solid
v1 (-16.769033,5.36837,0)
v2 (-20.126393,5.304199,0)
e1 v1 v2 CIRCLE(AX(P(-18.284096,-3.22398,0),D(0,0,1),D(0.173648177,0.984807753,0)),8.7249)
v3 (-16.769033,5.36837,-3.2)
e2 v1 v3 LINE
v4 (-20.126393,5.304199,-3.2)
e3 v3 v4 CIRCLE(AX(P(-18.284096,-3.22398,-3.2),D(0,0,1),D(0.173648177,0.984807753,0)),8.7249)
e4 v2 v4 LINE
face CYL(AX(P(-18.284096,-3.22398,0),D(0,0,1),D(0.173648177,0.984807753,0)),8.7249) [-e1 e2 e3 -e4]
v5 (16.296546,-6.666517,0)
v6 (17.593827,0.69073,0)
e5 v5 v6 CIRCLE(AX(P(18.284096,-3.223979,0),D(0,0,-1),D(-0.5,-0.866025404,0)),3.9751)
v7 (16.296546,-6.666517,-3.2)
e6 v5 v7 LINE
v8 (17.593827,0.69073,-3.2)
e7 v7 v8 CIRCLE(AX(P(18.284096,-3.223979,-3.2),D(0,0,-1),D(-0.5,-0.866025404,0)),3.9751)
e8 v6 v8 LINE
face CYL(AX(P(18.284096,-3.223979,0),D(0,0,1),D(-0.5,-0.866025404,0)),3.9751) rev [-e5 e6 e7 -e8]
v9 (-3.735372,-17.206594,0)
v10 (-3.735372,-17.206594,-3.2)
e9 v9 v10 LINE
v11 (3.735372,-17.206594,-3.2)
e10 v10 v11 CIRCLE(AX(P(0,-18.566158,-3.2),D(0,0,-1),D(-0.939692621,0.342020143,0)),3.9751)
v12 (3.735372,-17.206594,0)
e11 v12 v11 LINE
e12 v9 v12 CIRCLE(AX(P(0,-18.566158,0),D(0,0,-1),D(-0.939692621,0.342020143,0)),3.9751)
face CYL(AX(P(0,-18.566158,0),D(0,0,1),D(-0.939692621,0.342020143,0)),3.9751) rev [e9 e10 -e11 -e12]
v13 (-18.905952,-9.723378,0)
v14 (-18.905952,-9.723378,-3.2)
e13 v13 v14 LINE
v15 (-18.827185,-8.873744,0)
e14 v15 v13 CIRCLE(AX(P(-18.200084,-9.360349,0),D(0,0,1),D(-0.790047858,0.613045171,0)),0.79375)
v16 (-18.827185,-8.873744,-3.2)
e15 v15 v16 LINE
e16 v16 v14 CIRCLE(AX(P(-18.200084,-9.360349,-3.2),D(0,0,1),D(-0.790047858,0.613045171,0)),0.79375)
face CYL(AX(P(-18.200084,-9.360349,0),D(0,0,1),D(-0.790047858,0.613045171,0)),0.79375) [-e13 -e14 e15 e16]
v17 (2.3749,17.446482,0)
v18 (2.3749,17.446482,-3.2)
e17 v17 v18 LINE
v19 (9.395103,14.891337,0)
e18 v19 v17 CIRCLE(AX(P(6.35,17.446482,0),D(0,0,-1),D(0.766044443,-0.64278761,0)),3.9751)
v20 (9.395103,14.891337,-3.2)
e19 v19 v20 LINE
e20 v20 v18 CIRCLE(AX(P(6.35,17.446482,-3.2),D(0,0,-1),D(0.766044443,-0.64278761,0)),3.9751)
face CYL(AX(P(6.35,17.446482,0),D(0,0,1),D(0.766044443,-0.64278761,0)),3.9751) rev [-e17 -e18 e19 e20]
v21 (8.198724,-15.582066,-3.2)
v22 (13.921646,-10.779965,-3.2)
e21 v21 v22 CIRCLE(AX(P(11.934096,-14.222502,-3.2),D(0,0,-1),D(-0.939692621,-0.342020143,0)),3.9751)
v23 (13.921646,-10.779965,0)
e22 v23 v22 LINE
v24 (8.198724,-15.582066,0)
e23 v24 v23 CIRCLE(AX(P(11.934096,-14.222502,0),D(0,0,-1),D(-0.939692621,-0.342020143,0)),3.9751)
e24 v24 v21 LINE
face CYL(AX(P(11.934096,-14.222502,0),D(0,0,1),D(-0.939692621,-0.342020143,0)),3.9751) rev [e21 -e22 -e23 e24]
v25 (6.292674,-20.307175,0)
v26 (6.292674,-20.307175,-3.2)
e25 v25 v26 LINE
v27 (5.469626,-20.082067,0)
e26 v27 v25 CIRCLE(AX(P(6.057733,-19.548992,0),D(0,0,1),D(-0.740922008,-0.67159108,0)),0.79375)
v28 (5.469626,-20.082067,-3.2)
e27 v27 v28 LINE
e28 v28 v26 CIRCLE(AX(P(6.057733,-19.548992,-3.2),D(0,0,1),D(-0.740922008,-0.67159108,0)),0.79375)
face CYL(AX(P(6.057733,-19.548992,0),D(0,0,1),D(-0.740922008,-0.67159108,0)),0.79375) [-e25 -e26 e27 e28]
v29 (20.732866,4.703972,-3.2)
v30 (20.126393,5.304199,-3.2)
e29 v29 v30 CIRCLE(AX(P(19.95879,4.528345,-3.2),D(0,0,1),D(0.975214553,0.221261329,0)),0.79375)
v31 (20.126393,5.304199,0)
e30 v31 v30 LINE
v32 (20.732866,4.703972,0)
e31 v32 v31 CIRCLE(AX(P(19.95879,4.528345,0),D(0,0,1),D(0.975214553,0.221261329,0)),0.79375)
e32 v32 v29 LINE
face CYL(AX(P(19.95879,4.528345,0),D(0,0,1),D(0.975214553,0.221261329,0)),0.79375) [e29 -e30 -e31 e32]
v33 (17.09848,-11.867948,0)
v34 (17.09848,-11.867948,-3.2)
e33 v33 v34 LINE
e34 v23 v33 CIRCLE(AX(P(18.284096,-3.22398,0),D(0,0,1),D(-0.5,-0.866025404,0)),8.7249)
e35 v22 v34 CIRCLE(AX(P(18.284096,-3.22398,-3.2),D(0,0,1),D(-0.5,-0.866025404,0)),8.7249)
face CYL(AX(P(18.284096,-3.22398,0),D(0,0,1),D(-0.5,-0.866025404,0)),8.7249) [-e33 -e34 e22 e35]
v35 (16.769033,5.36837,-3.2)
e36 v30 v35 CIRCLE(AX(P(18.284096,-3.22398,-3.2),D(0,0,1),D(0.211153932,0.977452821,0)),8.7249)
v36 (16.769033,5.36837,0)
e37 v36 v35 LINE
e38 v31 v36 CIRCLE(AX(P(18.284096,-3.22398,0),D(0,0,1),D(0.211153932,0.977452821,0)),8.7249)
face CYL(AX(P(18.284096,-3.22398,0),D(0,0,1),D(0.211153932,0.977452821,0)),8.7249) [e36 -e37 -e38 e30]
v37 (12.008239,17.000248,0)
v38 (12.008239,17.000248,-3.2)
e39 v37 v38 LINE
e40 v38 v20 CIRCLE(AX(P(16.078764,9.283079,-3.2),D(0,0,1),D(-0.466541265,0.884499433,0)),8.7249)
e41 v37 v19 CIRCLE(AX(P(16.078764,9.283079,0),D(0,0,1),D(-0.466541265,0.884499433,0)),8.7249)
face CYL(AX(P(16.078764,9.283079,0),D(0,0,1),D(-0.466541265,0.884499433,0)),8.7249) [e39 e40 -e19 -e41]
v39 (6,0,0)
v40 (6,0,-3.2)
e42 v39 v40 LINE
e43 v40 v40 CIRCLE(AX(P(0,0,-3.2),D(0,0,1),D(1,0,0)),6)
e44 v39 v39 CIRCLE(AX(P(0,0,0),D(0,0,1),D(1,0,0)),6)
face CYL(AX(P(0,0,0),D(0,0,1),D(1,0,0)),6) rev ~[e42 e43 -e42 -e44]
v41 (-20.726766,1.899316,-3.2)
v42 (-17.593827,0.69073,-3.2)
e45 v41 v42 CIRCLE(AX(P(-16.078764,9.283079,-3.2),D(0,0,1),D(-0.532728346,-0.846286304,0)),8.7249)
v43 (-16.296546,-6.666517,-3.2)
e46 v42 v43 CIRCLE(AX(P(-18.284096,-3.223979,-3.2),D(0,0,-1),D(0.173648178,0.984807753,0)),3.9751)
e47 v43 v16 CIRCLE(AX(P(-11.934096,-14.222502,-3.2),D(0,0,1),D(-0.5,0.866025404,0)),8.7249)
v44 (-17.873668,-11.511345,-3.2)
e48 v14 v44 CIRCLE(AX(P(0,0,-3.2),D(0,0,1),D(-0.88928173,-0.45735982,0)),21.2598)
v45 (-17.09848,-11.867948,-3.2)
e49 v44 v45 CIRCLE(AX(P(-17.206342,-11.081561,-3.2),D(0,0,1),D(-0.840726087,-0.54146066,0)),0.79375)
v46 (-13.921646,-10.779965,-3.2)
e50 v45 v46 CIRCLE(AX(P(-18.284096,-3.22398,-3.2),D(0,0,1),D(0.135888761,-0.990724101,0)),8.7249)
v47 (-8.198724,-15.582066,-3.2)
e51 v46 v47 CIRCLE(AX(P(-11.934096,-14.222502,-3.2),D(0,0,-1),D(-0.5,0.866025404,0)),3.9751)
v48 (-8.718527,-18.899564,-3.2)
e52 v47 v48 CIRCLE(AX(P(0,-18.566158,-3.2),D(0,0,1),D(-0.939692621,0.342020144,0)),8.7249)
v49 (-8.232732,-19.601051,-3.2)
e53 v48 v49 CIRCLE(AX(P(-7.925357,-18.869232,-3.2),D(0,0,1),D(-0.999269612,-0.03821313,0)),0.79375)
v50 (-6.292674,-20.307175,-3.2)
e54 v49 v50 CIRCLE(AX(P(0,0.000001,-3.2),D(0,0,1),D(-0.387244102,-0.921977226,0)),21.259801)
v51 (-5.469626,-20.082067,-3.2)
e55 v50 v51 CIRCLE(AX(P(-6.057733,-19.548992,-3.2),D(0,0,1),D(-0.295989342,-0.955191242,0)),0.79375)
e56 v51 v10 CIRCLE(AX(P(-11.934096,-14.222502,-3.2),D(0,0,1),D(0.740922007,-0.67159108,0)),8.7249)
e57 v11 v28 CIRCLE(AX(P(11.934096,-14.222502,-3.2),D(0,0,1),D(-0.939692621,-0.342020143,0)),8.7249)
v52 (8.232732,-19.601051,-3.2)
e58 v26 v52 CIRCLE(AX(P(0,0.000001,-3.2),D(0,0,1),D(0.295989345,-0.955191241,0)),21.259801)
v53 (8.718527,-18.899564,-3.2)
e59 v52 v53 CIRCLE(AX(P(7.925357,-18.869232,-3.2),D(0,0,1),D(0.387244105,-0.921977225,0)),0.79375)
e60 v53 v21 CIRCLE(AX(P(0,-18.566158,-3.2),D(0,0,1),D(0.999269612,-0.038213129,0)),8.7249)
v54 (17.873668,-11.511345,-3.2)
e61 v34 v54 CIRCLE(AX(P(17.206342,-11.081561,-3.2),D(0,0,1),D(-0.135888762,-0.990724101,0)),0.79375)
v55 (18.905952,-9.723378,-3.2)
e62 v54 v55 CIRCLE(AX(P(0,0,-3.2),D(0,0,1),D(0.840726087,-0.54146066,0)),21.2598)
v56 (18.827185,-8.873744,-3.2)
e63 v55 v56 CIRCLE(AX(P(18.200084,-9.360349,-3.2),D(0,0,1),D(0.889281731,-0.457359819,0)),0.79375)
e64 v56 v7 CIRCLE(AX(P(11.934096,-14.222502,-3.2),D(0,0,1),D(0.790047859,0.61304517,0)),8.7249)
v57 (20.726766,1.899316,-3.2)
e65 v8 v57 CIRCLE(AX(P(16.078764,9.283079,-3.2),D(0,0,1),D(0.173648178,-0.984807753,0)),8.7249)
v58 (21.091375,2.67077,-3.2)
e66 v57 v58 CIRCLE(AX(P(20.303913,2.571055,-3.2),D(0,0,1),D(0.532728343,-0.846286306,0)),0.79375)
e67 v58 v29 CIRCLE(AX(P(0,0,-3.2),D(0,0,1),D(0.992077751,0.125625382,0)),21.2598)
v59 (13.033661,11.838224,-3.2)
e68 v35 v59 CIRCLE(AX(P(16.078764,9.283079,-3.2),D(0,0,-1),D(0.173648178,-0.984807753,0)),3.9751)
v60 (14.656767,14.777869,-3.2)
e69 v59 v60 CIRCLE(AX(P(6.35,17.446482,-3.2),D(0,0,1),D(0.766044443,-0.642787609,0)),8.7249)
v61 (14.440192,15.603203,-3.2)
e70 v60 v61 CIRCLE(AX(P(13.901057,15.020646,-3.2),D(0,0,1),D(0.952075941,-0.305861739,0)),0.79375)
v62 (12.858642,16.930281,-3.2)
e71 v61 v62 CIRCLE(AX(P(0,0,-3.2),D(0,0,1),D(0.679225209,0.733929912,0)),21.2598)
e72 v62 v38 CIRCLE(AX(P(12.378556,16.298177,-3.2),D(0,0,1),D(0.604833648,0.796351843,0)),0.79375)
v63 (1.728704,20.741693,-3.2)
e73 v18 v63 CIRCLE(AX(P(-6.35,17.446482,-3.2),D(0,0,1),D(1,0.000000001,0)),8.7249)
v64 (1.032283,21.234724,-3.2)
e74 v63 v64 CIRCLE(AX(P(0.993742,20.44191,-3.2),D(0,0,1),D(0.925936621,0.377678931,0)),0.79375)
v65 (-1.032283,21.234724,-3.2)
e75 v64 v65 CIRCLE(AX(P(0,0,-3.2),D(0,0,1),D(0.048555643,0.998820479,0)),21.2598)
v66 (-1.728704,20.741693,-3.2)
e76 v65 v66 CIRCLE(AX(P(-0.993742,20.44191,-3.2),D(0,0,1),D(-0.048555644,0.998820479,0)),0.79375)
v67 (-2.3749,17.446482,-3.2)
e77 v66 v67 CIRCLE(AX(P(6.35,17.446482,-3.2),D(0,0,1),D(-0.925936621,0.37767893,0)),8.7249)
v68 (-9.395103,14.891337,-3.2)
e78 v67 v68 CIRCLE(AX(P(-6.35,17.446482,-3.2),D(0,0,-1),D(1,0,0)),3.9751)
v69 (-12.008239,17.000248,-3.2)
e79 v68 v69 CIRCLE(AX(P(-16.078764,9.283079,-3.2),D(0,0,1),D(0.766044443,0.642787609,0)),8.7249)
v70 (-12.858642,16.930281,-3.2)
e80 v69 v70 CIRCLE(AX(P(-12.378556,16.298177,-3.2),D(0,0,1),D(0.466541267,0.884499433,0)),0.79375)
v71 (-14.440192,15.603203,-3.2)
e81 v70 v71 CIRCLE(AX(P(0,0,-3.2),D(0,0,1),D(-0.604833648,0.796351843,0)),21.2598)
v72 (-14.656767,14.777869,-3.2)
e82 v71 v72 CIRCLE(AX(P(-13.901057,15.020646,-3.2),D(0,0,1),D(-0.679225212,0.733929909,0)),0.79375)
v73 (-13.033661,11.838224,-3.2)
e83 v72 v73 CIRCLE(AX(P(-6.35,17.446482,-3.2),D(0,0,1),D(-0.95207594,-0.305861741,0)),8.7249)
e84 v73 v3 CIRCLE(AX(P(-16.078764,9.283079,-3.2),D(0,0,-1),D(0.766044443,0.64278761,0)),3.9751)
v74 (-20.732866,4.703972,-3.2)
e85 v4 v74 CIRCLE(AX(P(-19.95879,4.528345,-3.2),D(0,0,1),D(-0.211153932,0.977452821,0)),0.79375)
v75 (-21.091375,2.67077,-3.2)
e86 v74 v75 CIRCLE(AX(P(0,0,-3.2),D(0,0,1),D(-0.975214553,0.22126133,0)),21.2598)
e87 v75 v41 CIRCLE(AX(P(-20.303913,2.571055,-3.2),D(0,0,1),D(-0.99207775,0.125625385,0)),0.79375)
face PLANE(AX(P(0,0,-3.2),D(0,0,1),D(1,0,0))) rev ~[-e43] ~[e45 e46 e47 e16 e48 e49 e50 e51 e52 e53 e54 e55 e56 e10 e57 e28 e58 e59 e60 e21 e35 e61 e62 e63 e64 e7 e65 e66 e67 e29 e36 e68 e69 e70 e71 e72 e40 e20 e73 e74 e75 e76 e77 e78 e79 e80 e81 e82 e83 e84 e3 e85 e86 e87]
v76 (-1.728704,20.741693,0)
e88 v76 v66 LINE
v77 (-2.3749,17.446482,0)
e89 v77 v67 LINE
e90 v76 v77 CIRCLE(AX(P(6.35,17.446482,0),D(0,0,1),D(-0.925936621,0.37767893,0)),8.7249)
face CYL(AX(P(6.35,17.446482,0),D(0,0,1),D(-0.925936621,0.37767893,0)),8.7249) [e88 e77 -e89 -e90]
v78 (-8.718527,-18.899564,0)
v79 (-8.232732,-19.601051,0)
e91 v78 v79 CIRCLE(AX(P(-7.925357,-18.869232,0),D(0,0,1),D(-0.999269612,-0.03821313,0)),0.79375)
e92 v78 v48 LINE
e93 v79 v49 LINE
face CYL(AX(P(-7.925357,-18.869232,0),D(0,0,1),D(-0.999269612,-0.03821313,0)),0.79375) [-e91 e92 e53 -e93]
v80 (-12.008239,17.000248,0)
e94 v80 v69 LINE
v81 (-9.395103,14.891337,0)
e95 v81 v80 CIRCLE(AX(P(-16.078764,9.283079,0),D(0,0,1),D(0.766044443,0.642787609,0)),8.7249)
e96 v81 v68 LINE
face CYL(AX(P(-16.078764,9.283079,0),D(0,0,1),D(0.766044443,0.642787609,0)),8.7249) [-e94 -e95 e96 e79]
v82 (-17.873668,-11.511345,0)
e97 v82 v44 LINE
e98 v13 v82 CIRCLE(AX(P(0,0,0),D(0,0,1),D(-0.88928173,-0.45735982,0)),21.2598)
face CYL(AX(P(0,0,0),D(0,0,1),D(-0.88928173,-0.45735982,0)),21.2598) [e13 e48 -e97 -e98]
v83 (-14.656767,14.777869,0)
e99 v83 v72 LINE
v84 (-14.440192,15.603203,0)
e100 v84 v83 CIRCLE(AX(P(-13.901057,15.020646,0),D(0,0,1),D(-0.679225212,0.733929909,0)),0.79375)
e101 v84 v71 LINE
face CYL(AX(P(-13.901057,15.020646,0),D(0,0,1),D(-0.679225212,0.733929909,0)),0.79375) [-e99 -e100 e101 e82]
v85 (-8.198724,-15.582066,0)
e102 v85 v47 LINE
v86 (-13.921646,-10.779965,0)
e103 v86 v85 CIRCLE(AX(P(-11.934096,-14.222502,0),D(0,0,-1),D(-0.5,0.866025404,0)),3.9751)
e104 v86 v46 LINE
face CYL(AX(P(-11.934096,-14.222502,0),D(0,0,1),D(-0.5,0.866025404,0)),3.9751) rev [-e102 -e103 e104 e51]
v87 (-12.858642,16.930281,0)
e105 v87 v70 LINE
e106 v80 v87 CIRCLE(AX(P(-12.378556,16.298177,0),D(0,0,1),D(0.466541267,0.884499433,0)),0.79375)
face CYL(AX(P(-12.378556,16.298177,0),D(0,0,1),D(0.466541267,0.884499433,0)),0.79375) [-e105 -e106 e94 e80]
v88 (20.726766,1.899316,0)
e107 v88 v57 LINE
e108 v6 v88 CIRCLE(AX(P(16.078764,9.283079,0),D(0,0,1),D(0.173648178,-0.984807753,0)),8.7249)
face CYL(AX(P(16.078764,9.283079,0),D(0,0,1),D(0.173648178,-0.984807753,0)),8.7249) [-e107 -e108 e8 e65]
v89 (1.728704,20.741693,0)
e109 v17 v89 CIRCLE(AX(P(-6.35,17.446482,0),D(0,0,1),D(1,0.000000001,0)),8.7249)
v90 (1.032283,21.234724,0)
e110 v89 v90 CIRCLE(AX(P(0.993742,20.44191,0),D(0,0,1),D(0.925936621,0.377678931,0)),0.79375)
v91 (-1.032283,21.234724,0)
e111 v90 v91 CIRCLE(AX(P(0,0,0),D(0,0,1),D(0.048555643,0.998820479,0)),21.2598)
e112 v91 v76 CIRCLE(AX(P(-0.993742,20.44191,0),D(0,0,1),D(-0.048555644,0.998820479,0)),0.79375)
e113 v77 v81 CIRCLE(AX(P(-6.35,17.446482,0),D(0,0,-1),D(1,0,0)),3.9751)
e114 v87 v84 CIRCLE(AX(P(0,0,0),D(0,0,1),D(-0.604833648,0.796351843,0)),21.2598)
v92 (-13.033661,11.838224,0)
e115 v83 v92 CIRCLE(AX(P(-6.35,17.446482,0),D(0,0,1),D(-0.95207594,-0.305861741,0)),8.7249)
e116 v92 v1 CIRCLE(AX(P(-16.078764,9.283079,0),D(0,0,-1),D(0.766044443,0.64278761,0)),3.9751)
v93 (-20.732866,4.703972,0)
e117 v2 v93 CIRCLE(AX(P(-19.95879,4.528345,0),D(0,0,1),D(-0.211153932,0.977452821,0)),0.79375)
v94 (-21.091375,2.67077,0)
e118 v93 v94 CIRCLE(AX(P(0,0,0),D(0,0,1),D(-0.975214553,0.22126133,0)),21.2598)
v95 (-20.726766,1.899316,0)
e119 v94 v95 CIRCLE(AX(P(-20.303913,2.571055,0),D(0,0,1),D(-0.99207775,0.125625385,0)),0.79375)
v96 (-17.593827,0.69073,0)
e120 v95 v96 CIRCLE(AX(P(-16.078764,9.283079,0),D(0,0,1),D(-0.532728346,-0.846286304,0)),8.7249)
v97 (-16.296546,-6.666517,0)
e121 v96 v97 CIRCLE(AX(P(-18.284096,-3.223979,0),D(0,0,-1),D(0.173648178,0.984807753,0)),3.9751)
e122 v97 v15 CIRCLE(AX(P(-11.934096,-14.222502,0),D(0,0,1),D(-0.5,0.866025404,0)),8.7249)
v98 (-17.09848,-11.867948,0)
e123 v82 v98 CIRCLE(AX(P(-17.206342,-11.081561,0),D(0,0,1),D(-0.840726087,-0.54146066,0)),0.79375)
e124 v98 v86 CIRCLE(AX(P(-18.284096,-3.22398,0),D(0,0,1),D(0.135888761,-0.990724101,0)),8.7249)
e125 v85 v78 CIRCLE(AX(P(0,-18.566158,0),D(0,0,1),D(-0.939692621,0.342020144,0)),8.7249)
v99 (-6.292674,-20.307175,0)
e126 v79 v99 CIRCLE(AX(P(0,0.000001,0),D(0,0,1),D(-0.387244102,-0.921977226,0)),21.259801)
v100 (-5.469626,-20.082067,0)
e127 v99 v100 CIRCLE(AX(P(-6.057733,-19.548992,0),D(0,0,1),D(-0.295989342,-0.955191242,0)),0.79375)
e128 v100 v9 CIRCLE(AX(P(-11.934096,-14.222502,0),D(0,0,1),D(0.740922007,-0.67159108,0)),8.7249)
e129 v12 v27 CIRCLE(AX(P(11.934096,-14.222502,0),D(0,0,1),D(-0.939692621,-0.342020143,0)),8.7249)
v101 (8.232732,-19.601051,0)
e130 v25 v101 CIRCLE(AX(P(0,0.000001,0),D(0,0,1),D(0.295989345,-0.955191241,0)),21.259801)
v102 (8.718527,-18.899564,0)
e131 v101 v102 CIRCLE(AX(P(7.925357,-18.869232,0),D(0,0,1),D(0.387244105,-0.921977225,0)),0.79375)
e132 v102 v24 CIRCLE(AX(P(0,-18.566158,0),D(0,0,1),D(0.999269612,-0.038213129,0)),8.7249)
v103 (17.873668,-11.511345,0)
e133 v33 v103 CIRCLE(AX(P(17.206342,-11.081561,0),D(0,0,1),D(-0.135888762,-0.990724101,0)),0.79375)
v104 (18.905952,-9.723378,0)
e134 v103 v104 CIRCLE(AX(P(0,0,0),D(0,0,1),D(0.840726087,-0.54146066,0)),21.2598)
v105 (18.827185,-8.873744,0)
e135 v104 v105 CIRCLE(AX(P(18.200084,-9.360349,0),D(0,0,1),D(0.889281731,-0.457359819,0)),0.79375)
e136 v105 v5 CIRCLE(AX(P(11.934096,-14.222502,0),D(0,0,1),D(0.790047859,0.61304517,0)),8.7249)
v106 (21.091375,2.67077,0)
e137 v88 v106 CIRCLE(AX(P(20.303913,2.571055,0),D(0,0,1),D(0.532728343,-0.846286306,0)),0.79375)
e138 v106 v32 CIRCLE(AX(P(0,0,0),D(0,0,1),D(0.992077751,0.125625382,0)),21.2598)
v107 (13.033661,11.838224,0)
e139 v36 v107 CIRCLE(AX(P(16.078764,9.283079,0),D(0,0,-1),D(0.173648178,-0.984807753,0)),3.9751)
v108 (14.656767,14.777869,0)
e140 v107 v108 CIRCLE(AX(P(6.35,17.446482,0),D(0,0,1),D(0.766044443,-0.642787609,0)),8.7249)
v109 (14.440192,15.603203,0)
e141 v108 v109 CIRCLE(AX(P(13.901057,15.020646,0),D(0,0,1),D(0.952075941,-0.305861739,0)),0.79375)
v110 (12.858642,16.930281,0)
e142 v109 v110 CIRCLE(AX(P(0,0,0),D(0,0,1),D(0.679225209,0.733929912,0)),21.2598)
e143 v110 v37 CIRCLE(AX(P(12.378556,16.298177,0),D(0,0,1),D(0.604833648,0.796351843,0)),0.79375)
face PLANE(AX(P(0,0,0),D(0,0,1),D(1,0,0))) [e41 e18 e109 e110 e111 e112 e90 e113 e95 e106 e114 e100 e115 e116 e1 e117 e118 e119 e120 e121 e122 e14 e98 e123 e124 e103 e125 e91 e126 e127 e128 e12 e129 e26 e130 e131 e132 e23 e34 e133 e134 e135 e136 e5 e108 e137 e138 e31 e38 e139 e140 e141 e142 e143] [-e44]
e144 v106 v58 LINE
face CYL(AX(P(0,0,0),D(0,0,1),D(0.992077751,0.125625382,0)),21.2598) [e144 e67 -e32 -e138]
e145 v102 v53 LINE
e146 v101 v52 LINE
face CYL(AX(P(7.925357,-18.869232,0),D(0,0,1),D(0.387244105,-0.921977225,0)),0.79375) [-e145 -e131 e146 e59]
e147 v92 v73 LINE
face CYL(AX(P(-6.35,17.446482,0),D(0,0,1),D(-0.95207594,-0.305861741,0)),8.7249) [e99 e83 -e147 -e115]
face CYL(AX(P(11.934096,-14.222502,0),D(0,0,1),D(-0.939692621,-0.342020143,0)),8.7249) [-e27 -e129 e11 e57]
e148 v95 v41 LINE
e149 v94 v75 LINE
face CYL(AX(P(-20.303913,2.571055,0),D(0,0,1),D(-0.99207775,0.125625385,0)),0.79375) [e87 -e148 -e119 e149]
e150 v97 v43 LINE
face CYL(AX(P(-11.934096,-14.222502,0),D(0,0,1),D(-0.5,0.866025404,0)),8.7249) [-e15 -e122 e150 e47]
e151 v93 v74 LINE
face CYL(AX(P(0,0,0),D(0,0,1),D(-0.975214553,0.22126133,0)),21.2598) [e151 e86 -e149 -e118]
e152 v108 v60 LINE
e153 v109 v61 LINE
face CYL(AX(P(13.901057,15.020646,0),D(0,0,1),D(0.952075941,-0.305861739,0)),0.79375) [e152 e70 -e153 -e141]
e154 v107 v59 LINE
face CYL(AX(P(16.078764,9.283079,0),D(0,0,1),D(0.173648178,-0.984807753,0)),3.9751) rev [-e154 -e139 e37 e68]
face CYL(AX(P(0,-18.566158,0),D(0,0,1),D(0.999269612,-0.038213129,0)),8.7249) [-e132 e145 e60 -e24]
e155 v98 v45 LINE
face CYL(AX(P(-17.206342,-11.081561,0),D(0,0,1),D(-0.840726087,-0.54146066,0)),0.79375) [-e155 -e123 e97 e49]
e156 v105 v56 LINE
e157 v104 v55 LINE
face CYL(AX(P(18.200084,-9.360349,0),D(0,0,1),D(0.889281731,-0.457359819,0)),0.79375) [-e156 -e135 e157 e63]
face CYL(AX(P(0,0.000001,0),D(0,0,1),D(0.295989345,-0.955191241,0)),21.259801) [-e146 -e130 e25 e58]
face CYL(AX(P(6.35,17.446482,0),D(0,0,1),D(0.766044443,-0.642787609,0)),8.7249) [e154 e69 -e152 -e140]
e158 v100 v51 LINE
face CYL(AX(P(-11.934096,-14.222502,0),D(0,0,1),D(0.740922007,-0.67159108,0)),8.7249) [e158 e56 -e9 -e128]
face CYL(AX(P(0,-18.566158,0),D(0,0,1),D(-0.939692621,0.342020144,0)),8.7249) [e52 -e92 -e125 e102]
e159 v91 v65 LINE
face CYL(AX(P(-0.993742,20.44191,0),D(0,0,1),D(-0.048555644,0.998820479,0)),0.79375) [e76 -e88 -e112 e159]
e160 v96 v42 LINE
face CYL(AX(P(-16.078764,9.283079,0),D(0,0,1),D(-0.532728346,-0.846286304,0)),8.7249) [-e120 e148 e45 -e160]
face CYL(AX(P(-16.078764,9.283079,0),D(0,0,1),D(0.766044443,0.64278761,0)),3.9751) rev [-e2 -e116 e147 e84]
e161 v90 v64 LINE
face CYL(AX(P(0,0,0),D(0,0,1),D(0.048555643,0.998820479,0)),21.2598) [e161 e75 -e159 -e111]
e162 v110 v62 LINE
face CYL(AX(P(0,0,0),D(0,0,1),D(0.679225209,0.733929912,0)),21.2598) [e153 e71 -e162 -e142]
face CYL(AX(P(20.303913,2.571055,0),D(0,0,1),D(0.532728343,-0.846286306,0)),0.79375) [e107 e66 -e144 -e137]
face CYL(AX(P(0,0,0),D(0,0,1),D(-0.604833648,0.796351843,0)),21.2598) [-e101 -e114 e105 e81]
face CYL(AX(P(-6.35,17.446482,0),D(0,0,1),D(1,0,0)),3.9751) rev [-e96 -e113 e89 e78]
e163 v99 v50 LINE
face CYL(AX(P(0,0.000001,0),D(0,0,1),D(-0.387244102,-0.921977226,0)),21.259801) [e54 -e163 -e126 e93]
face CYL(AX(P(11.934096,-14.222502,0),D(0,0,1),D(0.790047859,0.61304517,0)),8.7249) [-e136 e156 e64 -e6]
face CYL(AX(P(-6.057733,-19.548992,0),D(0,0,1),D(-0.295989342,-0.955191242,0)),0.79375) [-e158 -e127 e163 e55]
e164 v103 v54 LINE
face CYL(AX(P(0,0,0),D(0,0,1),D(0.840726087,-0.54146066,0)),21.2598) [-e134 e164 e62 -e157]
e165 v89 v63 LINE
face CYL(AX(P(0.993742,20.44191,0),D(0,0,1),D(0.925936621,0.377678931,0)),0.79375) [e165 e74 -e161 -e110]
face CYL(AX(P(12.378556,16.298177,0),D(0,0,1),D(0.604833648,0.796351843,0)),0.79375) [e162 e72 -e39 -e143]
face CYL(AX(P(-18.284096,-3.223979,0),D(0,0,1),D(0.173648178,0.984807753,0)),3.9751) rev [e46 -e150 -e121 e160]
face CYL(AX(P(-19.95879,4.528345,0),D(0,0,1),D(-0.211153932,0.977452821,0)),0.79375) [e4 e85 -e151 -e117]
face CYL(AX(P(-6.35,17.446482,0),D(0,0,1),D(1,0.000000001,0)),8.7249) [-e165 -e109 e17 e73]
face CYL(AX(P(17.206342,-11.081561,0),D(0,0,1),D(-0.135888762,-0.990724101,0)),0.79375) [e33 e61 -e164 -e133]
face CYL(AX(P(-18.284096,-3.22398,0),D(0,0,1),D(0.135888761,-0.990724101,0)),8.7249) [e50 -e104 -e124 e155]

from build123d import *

# Parameters (mm, degrees)
BOSS_EXTRUDE1_DEPTH = 3.2
SKETCH2_R           = 6
CUT_EXTRUDE1_DEPTH  = 10


with BuildPart() as part:
    # Sketch1 → Boss-Extrude1 (new body)
    with BuildSketch(Plane.XY):
        with BuildLine():
            ThreePointArc((2.3749, 17.446481614), (2.211827147, 19.125468185), (1.72870442, 20.741692518))
            ThreePointArc((1.72870442, 20.741692518), (1.452377955, 21.089746522), (1.03228327, 21.234723622))
            ThreePointArc((1.03228327, 21.234723622), (0, 21.2598), (-1.03228327, 21.234723622))
            ThreePointArc((-1.03228327, 21.234723622), (-1.452377955, 21.089746522), (-1.72870442, 20.741692518))
            ThreePointArc((-1.72870442, 20.741692518), (-2.211827147, 19.125468185), (-2.3749, 17.446481614))
            ThreePointArc((-2.3749, 17.446481614), (-4.990435728, 13.711109477), (-9.395103266, 14.891336586))
            ThreePointArc((-9.395103266, 14.891336586), (-10.599256083, 16.07269371), (-12.00823854, 17.000248076))
            ThreePointArc((-12.00823854, 17.000248076), (-12.443641694, 17.089253684), (-12.858642377, 16.930280927))
            ThreePointArc((-12.858642377, 16.930280927), (-13.665536024, 16.285951652), (-14.440192102, 15.603203136))
            ThreePointArc((-14.440192102, 15.603203136), (-14.668813817, 15.222112575), (-14.656767369, 14.777868512))
            ThreePointArc((-14.656767369, 14.777868512), (-13.987971874, 13.22922354), (-13.033661162, 11.838223998))
            ThreePointArc((-13.033661162, 11.838223998), (-12.636226845, 7.295528971), (-16.769033299, 5.368369672))
            ThreePointArc((-16.769033299, 5.368369672), (-18.450829595, 5.49932722), (-20.12639323, 5.304198623))
            ThreePointArc((-20.12639323, 5.304198623), (-20.517143098, 5.092509122), (-20.732866347, 4.703971627))
            ThreePointArc((-20.732866347, 4.703971627), (-20.936815867, 3.691725528), (-21.091374564, 2.670770493))
            ThreePointArc((-21.091374564, 2.670770493), (-21.021548669, 2.23188298), (-20.726765974, 1.899315592))
            ThreePointArc((-20.726765974, 1.899315592), (-19.218989102, 1.142878174), (-17.593827413, 0.690729806))
            ThreePointArc((-17.593827413, 0.690729806), (-14.369386985, -2.533710622), (-16.296546284, -6.666517075))
            ThreePointArc((-16.296546284, -6.666517075), (-17.669054881, -7.647235594), (-18.827184848, -8.873744316))
            ThreePointArc((-18.827184848, -8.873744316), (-18.990445225, -9.287077056), (-18.905951734, -9.723378276))
            ThreePointArc((-18.905951734, -9.723378276), (-18.411526879, -10.6299), (-17.873668464, -11.511345346))
            ThreePointArc((-17.873668464, -11.511345346), (-17.538067269, -11.802669466), (-17.098480428, -11.867948202))
            ThreePointArc((-17.098480428, -11.867948202), (-15.457227734, -11.478232591), (-13.921646284, -10.779964538))
            ThreePointArc((-13.921646284, -10.779964538), (-9.378951257, -11.177398855), (-8.198724147, -15.582066393))
            ThreePointArc((-8.198724147, -15.582066393), (-8.619733019, -17.215571885), (-8.718527435, -18.899563668))
            ThreePointArc((-8.718527435, -18.899563668), (-8.577906975, -19.321136664), (-8.232732188, -19.60105142))
            ThreePointArc((-8.232732188, -19.60105142), (-7.271279843, -19.977677179), (-6.292674246, -20.307174764))
            ThreePointArc((-6.292674246, -20.307174764), (-5.848329281, -20.314621697), (-5.469625861, -20.082067135))
            ThreePointArc((-5.469625861, -20.082067135), (-4.462857721, -18.728550761), (-3.735372137, -17.206593669))
            ThreePointArc((-3.735372137, -17.206593669), (0, -14.591057941), (3.735372137, -17.206593669))
            ThreePointArc((3.735372137, -17.206593669), (4.462857721, -18.728550761), (5.469625861, -20.082067135))
            ThreePointArc((5.469625861, -20.082067135), (5.848329281, -20.314621697), (6.292674246, -20.307174764))
            ThreePointArc((6.292674246, -20.307174764), (7.271279843, -19.977677179), (8.232732188, -19.60105142))
            ThreePointArc((8.232732188, -19.60105142), (8.577906975, -19.321136664), (8.718527435, -18.899563668))
            ThreePointArc((8.718527435, -18.899563668), (8.619733019, -17.215571885), (8.198724147, -15.582066393))
            ThreePointArc((8.198724147, -15.582066393), (9.378951257, -11.177398855), (13.921646284, -10.779964538))
            ThreePointArc((13.921646284, -10.779964538), (15.457227734, -11.478232591), (17.098480428, -11.867948202))
            ThreePointArc((17.098480428, -11.867948202), (17.538067269, -11.802669466), (17.873668464, -11.511345346))
            ThreePointArc((17.873668464, -11.511345346), (18.411526879, -10.6299), (18.905951734, -9.723378276))
            ThreePointArc((18.905951734, -9.723378276), (18.990445225, -9.287077056), (18.827184848, -8.873744316))
            ThreePointArc((18.827184848, -8.873744316), (17.669054881, -7.647235594), (16.296546284, -6.666517075))
            ThreePointArc((16.296546284, -6.666517075), (14.369386985, -2.533710622), (17.593827413, 0.690729806))
            ThreePointArc((17.593827413, 0.690729806), (19.218989102, 1.142878174), (20.726765974, 1.899315592))
            ThreePointArc((20.726765974, 1.899315592), (21.021548669, 2.23188298), (21.091374564, 2.670770493))
            ThreePointArc((21.091374564, 2.670770493), (20.936815867, 3.691725528), (20.732866347, 4.703971627))
            ThreePointArc((20.732866347, 4.703971627), (20.517143098, 5.092509122), (20.12639323, 5.304198623))
            ThreePointArc((20.12639323, 5.304198623), (18.450829595, 5.49932722), (16.769033299, 5.368369672))
            ThreePointArc((16.769033299, 5.368369672), (12.636226845, 7.295528971), (13.033661162, 11.838223998))
            ThreePointArc((13.033661162, 11.838223998), (13.987971874, 13.22922354), (14.656767369, 14.777868512))
            ThreePointArc((14.656767369, 14.777868512), (14.668813817, 15.222112575), (14.440192102, 15.603203136))
            ThreePointArc((14.440192102, 15.603203136), (13.665536024, 16.285951652), (12.858642377, 16.930280927))
            ThreePointArc((12.858642377, 16.930280927), (12.443641694, 17.089253684), (12.00823854, 17.000248076))
            ThreePointArc((12.00823854, 17.000248076), (10.599256083, 16.07269371), (9.395103266, 14.891336586))
            ThreePointArc((9.395103266, 14.891336586), (4.990435728, 13.711109477), (2.3749, 17.446481614))
        make_face()
    extrude(amount=-BOSS_EXTRUDE1_DEPTH)

    # Sketch2 → Cut-Extrude1 (cut)
    with BuildSketch(Plane.XY):
        Circle(SKETCH2_R)
    extrude(amount=-CUT_EXTRUDE1_DEPTH, mode=Mode.SUBTRACT)


solid = part.part
